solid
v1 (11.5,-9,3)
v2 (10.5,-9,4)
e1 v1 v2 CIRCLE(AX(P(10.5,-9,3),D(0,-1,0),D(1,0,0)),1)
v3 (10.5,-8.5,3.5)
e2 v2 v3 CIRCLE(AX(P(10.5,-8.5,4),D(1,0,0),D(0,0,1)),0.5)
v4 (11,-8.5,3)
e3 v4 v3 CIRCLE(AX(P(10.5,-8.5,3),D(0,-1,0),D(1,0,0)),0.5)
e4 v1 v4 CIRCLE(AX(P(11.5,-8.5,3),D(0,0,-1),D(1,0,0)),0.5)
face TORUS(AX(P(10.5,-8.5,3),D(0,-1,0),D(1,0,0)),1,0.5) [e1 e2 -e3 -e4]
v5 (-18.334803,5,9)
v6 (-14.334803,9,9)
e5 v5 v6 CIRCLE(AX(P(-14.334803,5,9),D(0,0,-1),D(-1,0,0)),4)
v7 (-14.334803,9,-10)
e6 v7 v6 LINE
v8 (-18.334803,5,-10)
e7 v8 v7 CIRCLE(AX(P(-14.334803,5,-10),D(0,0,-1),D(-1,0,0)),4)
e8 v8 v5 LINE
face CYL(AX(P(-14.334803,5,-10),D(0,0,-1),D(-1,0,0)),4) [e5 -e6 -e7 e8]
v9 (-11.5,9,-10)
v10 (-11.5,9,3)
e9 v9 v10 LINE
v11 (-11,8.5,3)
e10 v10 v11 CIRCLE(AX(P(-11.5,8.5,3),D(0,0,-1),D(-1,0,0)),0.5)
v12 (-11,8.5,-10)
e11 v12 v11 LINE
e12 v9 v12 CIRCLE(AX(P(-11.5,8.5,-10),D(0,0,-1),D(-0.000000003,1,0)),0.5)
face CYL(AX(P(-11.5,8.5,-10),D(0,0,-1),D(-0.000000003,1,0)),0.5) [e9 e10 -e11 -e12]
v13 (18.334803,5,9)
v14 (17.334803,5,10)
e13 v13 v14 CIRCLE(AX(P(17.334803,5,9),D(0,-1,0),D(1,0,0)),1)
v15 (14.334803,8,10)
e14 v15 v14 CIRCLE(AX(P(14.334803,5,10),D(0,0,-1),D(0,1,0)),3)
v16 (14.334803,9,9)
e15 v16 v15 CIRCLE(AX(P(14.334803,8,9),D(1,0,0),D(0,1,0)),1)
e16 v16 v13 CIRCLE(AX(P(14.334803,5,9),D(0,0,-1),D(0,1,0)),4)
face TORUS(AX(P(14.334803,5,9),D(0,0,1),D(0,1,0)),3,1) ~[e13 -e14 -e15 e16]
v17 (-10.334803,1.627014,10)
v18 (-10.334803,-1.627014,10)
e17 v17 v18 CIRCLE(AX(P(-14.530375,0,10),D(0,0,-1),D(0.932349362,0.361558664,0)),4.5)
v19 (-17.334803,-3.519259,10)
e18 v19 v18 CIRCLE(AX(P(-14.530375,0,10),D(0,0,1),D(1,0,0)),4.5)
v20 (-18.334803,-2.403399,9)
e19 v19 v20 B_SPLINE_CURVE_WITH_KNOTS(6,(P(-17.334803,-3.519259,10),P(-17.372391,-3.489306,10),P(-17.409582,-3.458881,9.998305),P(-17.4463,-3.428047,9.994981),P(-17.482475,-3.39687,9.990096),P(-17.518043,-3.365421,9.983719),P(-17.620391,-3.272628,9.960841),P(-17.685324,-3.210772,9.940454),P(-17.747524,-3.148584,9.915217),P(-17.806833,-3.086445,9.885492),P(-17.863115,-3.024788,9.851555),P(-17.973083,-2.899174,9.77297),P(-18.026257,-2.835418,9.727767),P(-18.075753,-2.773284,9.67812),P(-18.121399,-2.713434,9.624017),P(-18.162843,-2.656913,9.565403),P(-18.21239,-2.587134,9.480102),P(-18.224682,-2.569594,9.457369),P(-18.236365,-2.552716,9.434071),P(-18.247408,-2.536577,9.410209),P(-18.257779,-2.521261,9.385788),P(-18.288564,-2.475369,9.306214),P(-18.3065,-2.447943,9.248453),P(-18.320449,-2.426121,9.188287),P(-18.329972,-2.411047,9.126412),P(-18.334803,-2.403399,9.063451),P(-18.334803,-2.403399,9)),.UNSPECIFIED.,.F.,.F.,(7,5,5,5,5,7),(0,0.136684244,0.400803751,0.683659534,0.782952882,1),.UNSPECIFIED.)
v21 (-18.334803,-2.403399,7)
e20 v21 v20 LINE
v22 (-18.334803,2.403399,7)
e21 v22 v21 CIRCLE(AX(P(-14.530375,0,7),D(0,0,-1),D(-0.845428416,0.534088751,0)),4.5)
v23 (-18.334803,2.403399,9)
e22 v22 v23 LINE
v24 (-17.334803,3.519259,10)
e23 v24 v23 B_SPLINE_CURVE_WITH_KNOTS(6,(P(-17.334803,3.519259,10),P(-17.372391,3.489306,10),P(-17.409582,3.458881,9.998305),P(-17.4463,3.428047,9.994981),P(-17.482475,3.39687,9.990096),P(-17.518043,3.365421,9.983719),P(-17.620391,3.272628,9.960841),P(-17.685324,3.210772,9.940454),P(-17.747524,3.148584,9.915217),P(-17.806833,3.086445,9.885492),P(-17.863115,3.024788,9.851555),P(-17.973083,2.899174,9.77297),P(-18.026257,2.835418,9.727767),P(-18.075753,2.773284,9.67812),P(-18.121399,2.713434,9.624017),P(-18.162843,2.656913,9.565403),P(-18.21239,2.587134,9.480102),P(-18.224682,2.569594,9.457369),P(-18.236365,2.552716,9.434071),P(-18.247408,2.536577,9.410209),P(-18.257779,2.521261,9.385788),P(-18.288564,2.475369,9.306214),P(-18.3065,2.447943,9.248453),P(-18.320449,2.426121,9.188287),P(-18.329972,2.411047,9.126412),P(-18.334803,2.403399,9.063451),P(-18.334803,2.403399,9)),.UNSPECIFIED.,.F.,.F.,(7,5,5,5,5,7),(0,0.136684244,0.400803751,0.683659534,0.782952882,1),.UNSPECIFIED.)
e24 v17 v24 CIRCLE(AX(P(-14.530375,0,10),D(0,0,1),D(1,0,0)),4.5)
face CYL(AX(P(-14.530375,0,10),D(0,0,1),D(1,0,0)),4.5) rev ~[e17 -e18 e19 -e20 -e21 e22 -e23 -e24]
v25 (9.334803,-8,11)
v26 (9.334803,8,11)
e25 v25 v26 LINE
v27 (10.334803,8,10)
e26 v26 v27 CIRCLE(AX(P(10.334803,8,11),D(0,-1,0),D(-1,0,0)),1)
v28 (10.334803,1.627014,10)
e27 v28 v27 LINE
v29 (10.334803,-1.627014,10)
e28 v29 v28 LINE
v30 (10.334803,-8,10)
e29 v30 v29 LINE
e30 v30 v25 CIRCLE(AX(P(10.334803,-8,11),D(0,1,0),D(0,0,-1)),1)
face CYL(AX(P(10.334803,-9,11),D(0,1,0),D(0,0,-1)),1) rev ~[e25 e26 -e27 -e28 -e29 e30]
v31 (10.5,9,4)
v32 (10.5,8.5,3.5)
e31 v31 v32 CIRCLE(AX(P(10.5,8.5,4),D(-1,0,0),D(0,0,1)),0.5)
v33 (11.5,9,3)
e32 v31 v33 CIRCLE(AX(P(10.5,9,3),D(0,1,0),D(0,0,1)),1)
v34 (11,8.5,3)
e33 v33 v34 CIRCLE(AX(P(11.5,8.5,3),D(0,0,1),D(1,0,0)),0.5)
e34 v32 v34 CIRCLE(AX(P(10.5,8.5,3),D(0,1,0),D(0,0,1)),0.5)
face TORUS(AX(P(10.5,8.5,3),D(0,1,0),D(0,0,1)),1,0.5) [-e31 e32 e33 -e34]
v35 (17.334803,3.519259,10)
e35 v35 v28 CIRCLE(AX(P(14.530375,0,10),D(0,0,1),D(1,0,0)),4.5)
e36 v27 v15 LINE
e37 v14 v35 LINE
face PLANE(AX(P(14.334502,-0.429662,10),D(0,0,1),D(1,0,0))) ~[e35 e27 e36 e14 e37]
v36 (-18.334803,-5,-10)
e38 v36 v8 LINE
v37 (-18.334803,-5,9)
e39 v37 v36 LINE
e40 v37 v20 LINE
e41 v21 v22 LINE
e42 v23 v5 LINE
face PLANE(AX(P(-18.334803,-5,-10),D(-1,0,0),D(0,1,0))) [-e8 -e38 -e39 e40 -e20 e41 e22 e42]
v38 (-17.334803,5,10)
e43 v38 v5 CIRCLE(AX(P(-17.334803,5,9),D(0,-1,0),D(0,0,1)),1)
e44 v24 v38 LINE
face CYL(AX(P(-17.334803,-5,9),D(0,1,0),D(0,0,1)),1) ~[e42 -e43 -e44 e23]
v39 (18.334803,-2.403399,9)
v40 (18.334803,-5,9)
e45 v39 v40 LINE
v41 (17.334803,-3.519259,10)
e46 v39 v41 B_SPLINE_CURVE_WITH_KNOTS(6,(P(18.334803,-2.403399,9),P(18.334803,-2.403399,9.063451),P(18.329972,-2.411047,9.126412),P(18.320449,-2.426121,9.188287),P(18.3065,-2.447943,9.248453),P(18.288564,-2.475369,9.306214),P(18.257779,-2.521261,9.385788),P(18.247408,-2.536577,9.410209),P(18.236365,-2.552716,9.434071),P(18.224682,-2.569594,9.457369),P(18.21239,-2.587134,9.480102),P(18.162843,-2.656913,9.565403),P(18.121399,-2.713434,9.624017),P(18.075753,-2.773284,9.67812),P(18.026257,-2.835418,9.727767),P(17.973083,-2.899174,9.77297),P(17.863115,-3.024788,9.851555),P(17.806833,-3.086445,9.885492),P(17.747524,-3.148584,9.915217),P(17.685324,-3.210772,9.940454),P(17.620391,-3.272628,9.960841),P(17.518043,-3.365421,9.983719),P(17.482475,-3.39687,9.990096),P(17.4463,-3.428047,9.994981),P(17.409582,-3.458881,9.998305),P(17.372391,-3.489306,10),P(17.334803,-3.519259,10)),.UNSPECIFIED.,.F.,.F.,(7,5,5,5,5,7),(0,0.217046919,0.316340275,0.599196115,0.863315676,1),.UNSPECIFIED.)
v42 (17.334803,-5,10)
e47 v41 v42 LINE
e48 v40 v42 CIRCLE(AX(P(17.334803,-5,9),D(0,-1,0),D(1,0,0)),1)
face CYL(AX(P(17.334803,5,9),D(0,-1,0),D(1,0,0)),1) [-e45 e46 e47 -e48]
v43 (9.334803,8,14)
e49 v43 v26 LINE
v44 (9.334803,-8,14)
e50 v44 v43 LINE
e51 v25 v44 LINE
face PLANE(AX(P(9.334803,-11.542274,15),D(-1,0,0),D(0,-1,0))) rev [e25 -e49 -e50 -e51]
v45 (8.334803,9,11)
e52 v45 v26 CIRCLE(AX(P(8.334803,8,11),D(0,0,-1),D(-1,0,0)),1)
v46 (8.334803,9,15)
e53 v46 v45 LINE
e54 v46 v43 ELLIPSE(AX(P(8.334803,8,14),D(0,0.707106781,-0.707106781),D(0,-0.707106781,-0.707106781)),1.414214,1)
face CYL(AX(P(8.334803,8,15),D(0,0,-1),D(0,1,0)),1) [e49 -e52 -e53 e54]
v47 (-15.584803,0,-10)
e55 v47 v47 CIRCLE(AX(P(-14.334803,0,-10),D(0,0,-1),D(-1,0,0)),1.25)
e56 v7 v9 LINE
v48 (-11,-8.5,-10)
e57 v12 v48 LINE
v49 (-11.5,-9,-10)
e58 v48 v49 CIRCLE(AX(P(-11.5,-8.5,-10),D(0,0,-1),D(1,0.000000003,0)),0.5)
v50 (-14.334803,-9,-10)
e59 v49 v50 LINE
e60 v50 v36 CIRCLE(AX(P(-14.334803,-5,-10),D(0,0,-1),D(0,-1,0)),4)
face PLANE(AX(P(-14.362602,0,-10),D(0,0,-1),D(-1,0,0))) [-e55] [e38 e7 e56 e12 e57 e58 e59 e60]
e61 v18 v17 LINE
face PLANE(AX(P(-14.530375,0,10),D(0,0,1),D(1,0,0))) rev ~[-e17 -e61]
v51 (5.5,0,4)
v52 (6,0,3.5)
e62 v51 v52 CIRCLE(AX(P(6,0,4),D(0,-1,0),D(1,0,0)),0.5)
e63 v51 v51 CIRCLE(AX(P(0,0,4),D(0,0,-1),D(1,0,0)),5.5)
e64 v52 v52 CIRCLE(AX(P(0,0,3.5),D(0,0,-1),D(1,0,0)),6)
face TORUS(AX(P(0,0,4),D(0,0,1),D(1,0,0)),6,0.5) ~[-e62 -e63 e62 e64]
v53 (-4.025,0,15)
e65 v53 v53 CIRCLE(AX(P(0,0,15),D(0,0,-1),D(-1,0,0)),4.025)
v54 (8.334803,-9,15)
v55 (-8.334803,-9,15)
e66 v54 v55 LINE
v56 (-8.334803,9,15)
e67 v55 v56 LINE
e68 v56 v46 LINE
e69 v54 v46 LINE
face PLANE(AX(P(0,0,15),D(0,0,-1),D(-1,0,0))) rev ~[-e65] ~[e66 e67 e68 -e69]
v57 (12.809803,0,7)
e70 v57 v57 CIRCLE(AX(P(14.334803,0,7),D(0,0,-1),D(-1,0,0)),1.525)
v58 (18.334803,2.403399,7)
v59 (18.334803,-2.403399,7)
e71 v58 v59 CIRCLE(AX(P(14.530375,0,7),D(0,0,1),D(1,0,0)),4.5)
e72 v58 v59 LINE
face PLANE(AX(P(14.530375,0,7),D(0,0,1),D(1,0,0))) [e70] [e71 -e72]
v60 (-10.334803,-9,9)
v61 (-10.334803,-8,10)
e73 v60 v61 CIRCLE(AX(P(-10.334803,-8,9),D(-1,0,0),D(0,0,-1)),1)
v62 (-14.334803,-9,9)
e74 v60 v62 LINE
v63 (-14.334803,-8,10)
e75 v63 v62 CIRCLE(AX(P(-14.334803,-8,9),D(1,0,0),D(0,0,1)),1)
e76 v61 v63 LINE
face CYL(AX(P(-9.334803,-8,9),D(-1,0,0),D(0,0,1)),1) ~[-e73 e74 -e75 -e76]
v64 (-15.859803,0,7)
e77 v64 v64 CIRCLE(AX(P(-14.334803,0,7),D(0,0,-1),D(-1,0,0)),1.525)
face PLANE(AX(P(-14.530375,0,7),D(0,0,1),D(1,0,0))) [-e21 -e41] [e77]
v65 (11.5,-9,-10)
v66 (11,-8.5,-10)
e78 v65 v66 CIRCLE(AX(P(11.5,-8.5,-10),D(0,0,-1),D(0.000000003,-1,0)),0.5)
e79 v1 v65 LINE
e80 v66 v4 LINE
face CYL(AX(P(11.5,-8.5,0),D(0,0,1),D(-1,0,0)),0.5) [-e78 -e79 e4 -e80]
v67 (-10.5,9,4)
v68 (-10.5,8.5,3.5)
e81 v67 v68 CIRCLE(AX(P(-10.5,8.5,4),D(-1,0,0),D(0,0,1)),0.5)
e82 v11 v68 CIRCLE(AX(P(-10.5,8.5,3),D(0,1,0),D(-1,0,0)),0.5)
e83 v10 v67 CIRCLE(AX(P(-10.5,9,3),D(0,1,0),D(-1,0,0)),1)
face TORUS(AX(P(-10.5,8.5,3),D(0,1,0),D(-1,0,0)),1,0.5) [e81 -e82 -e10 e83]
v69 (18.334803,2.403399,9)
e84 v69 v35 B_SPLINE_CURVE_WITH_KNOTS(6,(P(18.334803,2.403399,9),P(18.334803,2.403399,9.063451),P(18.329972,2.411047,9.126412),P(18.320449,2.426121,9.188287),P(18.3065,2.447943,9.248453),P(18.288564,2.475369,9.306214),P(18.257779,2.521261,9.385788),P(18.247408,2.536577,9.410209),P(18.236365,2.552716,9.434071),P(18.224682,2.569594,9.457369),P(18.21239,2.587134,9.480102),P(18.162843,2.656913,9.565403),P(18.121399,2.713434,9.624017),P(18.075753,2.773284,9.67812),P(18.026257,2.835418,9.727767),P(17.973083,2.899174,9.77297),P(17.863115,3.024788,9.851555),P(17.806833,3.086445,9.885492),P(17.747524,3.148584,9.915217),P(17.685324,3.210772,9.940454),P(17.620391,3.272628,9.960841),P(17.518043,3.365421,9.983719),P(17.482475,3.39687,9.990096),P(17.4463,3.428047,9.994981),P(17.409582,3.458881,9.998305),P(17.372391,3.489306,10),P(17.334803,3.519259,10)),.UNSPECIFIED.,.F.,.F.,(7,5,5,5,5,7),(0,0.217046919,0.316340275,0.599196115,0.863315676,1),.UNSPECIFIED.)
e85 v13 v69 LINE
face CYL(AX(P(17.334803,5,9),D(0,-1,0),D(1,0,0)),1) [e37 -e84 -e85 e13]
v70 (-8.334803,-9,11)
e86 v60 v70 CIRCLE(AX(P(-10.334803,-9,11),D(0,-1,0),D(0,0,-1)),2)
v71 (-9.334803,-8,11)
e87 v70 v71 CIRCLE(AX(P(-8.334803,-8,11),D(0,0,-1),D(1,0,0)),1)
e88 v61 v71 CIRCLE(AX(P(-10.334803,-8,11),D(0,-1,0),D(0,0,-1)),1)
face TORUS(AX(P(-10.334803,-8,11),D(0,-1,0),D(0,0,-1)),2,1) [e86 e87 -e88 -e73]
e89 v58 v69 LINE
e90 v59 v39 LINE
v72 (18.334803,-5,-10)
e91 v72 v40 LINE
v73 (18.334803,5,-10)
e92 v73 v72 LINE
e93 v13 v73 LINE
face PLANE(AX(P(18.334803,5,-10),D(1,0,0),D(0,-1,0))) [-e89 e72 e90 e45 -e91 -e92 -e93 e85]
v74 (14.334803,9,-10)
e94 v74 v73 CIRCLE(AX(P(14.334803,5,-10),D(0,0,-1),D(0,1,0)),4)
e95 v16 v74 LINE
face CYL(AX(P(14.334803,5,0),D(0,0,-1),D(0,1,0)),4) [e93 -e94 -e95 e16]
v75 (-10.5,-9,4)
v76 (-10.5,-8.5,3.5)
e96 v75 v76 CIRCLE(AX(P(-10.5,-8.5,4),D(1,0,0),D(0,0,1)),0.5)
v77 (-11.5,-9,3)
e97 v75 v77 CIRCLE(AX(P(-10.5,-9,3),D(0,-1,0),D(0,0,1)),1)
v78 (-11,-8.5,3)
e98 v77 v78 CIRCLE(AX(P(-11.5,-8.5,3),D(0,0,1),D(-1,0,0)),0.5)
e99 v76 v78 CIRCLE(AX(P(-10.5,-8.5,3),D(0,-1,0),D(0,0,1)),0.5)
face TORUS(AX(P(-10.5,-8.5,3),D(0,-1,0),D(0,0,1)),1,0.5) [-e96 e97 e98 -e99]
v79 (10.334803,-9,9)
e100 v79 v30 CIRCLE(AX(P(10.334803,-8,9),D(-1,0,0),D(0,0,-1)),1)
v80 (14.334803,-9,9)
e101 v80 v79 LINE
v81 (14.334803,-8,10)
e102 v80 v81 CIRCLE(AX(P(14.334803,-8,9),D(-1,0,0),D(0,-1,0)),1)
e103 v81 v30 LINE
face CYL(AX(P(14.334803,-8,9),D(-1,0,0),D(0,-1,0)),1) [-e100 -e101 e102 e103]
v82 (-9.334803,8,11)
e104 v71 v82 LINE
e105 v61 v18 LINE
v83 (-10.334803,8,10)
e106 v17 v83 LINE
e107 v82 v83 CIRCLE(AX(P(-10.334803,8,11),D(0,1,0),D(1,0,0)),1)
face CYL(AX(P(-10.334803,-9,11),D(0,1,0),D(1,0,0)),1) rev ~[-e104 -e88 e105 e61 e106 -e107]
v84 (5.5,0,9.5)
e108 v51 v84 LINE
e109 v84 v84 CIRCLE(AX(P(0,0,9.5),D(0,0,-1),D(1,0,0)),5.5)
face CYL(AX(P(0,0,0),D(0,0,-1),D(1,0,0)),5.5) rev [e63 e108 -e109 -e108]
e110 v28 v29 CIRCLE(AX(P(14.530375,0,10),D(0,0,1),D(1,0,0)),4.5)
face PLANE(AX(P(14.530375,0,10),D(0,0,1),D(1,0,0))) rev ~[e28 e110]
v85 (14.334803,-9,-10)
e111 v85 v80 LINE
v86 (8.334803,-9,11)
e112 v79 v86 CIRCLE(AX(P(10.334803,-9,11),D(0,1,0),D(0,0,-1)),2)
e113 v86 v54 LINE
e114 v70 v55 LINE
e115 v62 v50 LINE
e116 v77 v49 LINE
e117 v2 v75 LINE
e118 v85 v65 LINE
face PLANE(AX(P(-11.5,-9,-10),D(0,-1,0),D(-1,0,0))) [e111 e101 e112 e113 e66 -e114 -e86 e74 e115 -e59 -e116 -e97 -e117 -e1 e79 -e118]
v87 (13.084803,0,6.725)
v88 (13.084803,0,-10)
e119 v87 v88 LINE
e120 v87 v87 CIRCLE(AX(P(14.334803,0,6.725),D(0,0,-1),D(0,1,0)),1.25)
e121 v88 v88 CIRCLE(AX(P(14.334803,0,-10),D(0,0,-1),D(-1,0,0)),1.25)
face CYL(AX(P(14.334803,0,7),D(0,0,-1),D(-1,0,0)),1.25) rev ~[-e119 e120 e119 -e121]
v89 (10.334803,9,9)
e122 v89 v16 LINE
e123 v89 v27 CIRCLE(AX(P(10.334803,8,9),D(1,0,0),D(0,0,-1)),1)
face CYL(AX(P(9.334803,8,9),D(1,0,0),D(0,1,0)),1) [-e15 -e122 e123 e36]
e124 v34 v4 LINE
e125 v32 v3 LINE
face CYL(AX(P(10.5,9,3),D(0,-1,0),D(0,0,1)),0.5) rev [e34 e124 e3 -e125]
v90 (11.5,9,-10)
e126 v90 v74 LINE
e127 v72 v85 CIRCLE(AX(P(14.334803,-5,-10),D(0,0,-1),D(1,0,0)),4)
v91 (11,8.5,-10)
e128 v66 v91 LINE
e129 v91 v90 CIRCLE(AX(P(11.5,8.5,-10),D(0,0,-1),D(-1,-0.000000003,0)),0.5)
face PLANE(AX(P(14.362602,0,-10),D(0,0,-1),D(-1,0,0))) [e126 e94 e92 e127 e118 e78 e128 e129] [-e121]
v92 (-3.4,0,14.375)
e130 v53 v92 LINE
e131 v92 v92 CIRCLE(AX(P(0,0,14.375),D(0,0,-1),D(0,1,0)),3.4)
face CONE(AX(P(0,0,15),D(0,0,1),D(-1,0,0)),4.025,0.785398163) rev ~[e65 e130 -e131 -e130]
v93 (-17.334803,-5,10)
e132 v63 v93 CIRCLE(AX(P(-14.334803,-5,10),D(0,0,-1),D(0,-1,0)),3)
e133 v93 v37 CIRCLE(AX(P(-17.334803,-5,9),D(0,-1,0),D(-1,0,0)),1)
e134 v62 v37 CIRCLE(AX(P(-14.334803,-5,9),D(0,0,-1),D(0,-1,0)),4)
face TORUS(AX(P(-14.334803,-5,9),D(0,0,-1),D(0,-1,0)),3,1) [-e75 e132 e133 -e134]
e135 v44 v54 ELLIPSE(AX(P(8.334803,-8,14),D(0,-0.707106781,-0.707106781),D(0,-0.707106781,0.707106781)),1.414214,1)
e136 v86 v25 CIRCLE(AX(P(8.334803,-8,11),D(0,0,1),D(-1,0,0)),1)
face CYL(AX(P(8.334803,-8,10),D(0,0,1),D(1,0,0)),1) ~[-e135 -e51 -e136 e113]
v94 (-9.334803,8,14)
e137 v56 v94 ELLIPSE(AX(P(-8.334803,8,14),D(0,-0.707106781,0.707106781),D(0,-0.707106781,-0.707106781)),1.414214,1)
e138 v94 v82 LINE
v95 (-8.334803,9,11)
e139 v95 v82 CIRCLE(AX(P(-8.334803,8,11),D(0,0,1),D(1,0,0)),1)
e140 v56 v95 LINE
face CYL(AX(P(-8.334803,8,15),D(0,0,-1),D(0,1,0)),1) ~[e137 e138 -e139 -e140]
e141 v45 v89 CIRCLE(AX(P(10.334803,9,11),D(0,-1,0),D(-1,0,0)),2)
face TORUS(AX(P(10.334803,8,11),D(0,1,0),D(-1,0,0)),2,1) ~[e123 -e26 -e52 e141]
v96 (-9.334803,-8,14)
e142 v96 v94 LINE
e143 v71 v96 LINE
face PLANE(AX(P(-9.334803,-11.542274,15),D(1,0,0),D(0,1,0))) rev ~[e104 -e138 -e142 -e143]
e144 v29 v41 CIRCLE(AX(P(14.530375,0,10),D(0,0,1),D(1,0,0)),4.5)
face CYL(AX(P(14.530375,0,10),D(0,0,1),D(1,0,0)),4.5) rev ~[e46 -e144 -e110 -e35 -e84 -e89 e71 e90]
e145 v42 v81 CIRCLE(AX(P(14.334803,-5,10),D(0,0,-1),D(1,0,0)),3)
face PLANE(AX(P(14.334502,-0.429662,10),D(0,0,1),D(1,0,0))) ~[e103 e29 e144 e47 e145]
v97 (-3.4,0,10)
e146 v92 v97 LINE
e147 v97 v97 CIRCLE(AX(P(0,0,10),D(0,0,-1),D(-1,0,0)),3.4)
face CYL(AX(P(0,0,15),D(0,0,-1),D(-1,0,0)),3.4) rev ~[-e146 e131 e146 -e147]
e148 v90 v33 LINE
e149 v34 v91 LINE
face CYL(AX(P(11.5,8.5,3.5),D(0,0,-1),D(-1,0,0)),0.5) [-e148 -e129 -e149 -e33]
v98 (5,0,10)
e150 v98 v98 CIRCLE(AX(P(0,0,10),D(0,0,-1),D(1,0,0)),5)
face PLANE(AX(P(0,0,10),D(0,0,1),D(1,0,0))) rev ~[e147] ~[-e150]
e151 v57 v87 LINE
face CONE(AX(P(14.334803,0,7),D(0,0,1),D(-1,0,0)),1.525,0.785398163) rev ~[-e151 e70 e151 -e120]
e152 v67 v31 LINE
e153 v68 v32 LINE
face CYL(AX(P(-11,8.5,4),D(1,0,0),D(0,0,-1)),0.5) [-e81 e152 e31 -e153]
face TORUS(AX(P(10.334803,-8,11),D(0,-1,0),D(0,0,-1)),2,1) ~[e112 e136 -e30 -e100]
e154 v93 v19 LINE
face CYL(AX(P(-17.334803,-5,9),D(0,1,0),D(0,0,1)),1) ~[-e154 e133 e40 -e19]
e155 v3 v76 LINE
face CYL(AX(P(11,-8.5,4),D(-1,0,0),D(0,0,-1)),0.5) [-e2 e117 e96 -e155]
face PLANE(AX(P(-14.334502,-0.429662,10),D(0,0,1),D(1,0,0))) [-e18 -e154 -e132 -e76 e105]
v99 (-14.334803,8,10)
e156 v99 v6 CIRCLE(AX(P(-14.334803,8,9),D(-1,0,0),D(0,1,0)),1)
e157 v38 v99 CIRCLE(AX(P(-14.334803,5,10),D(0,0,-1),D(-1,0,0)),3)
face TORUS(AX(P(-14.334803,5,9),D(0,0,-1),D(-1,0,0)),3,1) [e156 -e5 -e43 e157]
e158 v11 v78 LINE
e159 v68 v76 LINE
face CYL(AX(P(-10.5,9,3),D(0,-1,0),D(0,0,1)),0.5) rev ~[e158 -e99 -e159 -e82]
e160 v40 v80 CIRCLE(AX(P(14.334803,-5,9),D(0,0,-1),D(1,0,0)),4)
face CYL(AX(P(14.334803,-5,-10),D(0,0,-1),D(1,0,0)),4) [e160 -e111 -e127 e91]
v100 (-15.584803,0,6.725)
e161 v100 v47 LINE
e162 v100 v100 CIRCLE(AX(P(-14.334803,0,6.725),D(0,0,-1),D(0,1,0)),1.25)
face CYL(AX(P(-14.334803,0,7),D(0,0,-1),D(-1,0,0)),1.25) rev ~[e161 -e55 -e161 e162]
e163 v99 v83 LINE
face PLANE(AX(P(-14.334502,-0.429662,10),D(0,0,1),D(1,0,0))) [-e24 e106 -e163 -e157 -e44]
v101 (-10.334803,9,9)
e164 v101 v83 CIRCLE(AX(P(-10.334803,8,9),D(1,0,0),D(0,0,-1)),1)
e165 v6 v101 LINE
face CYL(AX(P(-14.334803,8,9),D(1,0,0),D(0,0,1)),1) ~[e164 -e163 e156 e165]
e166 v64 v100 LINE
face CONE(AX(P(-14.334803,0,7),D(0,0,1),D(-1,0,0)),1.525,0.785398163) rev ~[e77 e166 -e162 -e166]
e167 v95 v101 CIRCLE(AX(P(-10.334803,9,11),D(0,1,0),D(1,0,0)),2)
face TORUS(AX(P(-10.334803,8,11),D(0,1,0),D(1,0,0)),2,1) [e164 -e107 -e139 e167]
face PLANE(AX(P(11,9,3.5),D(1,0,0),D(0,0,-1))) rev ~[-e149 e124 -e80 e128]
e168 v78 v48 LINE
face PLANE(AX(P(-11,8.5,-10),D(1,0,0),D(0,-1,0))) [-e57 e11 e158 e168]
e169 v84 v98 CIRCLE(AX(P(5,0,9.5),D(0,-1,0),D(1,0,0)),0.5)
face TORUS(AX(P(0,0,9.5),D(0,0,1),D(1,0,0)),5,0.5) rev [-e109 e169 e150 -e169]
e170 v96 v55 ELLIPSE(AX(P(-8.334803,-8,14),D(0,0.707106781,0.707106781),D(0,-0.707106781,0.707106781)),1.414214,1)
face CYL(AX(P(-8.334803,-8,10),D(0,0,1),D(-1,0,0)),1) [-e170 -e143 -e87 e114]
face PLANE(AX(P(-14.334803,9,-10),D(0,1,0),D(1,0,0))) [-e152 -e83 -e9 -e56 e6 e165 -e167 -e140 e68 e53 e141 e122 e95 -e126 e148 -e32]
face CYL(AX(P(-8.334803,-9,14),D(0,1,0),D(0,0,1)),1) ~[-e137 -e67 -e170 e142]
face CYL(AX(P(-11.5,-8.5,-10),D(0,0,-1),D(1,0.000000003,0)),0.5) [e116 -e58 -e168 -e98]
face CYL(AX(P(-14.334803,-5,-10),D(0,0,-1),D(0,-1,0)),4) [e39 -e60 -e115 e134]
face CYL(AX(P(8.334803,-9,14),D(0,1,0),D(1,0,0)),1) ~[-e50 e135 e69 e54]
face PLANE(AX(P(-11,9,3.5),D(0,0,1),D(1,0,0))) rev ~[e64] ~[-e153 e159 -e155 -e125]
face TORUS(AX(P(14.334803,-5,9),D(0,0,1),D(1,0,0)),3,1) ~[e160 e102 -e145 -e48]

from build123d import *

# Parameters (mm, degrees)
SKETCH1_R                        = 5.5
SKETCH1_R_2                      = 1
BOSS_EXTRUDE1_DEPTH              = 15
SKETCH3_W                        = 9.999397818
SKETCH3_H                        = 22.225224056
CUT_EXTRUDE1_DEPTH               = 5
FILLET1_R                        = 1
FILLET1_OF_MIRROR1_R             = 1
SKETCH4_R                        = 7.5
BOSS_EXTRUDE2_DEPTH              = 5
SKETCH5_W                        = 22
SKETCH5_H                        = 7
CUT_EXTRUDE2_DEPTH               = 30.75172255
SKETCH6_R                        = 3
CUT_EXTRUDE3_DEPTH               = 26.34097462
SKETCH7_R                        = 4.5
CUT_EXTRUDE8_DEPTH               = 3
FILLET3_R                        = 0.5
FILLET2_R                        = 0.5
BOSS_EXTRUDE3_START              = 10
SKETCH8_R                        = 1
BOSS_EXTRUDE3_DEPTH              = 10
M8X1_25_TAPPED_HOLE1_D           = 6.8
M8X1_25_TAPPED_HOLE1_CSINK_D     = 8.05
M8X1_25_TAPPED_HOLE1_CSINK_ANGLE = 90
FILLET4_R                        = 0.5
M3X0_5_TAPPED_HOLE1_D            = 2.5
M3X0_5_TAPPED_HOLE1_CSINK_D      = 3.05
M3X0_5_TAPPED_HOLE1_CSINK_ANGLE  = 90


with BuildPart() as part:
    # Sketch1 → Boss-Extrude1 (new body)
    with BuildSketch(Plane.XY):
        with BuildLine():
            Line((-14.334802826, 9), (14.334802826, 9))
            ThreePointArc((14.334802826, 9), (17.163229951, 7.828427125), (18.334802826, 5))
            Line((18.334802826, 5), (18.334802826, -5))
            ThreePointArc((18.334802826, -5), (17.163229951, -7.828427125), (14.334802826, -9))
            Line((14.334802826, -9), (-14.334802826, -9))
            ThreePointArc((-14.334802826, -9), (-17.163229951, -7.828427125), (-18.334802826, -5))
            Line((-18.334802826, -5), (-18.334802826, 5))
            ThreePointArc((-18.334802826, 5), (-17.163229951, 7.828427125), (-14.334802826, 9))
        make_face()
        Circle(SKETCH1_R, mode=Mode.SUBTRACT)
        with Locations((-14.334802826, 0)):
            Circle(SKETCH1_R_2, mode=Mode.SUBTRACT)
        with Locations(Location((14.334802826, 0, 0), (0, 0, 180))):
            Circle(SKETCH1_R_2, mode=Mode.SUBTRACT)
    extrude(amount=BOSS_EXTRUDE1_DEPTH)

    # Sketch3 → Cut-Extrude1 (cut)
    with BuildSketch(Plane.XY.offset(15)):
        with Locations((-14.334501735, -0.429661625)):
            Rectangle(SKETCH3_W, SKETCH3_H)
    cut_extrude1 = extrude(amount=-CUT_EXTRUDE1_DEPTH, mode=Mode.SUBTRACT)

    # Fillet1
    fillet1_edges = [part.edges().sort_by_distance(p)[0] for p in [
        (-9.334802826, -9, 12.5),
        (-9.334802826, 0, 10),
        (-9.334802826, 9, 12.5),
        (-17.163229951, 7.828427125, 10),
        (-11.834802826, 9, 10),
        (-11.834802826, -9, 10),
        (-17.163229951, -7.828427125, 10),
        (-18.334802826, 0, 10),
        (-9.334802826, 0, 15),
    ]]
    fillet(fillet1_edges, radius=FILLET1_R)

    # Mirror1: Cut-Extrude1 across plane
    add(cut_extrude1.mirror(Plane(origin=(0, 0, 0), x_dir=(0, 0, 1), z_dir=(1, 0, 0))), mode=Mode.SUBTRACT)

    # Fillet1 of Mirror1
    fillet1_of_mirror1_edges = [part.edges().sort_by_distance(p)[0] for p in [
        (9.334802826, -9, 12.5),
        (9.334802826, 0, 10),
        (9.334802826, 9, 12.5),
        (17.163229951, 7.828427125, 10),
        (11.834802826, 9, 10),
        (11.834802826, -9, 10),
        (17.163229951, -7.828427125, 10),
        (18.334802826, 0, 10),
        (9.334802826, 0, 15),
    ]]
    fillet(fillet1_of_mirror1_edges, radius=FILLET1_OF_MIRROR1_R)

    # Sketch4 → Boss-Extrude2 (add)
    with BuildSketch(Plane.XY.offset(15)):
        Circle(SKETCH4_R)
    extrude(amount=-BOSS_EXTRUDE2_DEPTH)

    # Sketch5 → Cut-Extrude2 (cut, through all)
    with BuildSketch(Plane(origin=(0, 9, 0), x_dir=(1, 0, 0), z_dir=(0, 1, 0))):
        Rectangle(SKETCH5_W, SKETCH5_H)
    extrude(amount=-CUT_EXTRUDE2_DEPTH, mode=Mode.SUBTRACT)

    # Sketch6 → Cut-Extrude3 (cut, through all)
    with BuildSketch(Plane.XY.offset(15)):
        Circle(SKETCH6_R)
    extrude(amount=-CUT_EXTRUDE3_DEPTH, mode=Mode.SUBTRACT)

    # Sketch7 → Cut-Extrude8 (cut)
    with BuildSketch(Plane.XY.offset(10)):
        with Locations((-14.530374954, 0)):
            Circle(SKETCH7_R)
        with Locations((14.530374954, 0)):
            Circle(SKETCH7_R)
    extrude(amount=-CUT_EXTRUDE8_DEPTH, mode=Mode.SUBTRACT)

    # Fillet3
    fillet3_edges = [part.edges().sort_by_distance(p)[0] for p in [
        (11, -9, 1.75),
        (0, -9, 3.5),
        (11, 0, 3.5),
        (-11, -9, 1.75),
        (-11, 0, 3.5),
        (-11, 9, 1.75),
        (0, 9, 3.5),
        (11, 9, 1.75),
    ]]
    fillet(fillet3_edges, radius=FILLET3_R)

    # Fillet2
    fillet2_edges = [part.edges().sort_by_distance(p)[0] for p in [
        (-5.5, 0, 10),
    ]]
    fillet(fillet2_edges, radius=FILLET2_R)

    # Sketch8 → Boss-Extrude3 (add)
    # profile 1 of 2: a face of its own
    with BuildSketch(Plane(origin=(0, 0, 0), x_dir=(-1, 0, 0), z_dir=(0, 0, -1)).offset(BOSS_EXTRUDE3_START)):
        with BuildLine():
            Line((11, 8.5), (11, -8.5))
            ThreePointArc((11, -8.5), (11.146446609, -8.853553391), (11.5, -9))
            Line((11.5, -9), (14.334802826, -9))
            ThreePointArc((14.334802826, -9), (17.163229951, -7.828427125), (18.334802826, -5))
            Line((18.334802826, -5), (18.334802826, 5))
            ThreePointArc((18.334802826, 5), (17.163229951, 7.828427125), (14.334802826, 9))
            Line((14.334802826, 9), (11.5, 9))
            ThreePointArc((11.5, 9), (11.146446609, 8.853553391), (11, 8.5))
        make_face()
        with Locations((14.334802826, 0)):
            Circle(SKETCH8_R, mode=Mode.SUBTRACT)
    # profile 2 of 2: a face of its own
    with BuildSketch(Plane(origin=(0, 0, 0), x_dir=(-1, 0, 0), z_dir=(0, 0, -1)).offset(BOSS_EXTRUDE3_START)):
        with BuildLine():
            Line((-14.334802826, -9), (-11.5, -9))
            ThreePointArc((-11.5, -9), (-11.146446609, -8.853553391), (-11, -8.5))
            Line((-11, -8.5), (-11, 8.5))
            ThreePointArc((-11, 8.5), (-11.146446609, 8.853553391), (-11.5, 9))
            Line((-11.5, 9), (-14.334802826, 9))
            ThreePointArc((-14.334802826, 9), (-17.163229951, 7.828427125), (-18.334802826, 5))
            Line((-18.334802826, 5), (-18.334802826, -5))
            ThreePointArc((-18.334802826, -5), (-17.163229951, -7.828427125), (-14.334802826, -9))
        make_face()
        with Locations((-14.334802826, 0)):
            Circle(SKETCH8_R, mode=Mode.SUBTRACT)
    extrude(amount=-BOSS_EXTRUDE3_DEPTH)

    # M8x1.25 Tapped Hole1 (through all)
    with Locations(Plane.XY.offset(15)):
        with Locations((0, 0)):
            CounterSinkHole(M8X1_25_TAPPED_HOLE1_D / 2, M8X1_25_TAPPED_HOLE1_CSINK_D / 2, counter_sink_angle=M8X1_25_TAPPED_HOLE1_CSINK_ANGLE)

    # Fillet4
    fillet4_edges = [part.edges().sort_by_distance(p)[0] for p in [
        (-5.5, 0, 3.5),
    ]]
    fillet(fillet4_edges, radius=FILLET4_R)

    # M3x0.5 Tapped Hole1 (through all)
    with Locations(Plane(origin=(-14.334802826, 0, 7), x_dir=(1, 0, 0), z_dir=(0, 0, 1))):
        with Locations((0, 0), (28.669605652, 0)):
            CounterSinkHole(M3X0_5_TAPPED_HOLE1_D / 2, M3X0_5_TAPPED_HOLE1_CSINK_D / 2, counter_sink_angle=M3X0_5_TAPPED_HOLE1_CSINK_ANGLE)


solid = part.part
